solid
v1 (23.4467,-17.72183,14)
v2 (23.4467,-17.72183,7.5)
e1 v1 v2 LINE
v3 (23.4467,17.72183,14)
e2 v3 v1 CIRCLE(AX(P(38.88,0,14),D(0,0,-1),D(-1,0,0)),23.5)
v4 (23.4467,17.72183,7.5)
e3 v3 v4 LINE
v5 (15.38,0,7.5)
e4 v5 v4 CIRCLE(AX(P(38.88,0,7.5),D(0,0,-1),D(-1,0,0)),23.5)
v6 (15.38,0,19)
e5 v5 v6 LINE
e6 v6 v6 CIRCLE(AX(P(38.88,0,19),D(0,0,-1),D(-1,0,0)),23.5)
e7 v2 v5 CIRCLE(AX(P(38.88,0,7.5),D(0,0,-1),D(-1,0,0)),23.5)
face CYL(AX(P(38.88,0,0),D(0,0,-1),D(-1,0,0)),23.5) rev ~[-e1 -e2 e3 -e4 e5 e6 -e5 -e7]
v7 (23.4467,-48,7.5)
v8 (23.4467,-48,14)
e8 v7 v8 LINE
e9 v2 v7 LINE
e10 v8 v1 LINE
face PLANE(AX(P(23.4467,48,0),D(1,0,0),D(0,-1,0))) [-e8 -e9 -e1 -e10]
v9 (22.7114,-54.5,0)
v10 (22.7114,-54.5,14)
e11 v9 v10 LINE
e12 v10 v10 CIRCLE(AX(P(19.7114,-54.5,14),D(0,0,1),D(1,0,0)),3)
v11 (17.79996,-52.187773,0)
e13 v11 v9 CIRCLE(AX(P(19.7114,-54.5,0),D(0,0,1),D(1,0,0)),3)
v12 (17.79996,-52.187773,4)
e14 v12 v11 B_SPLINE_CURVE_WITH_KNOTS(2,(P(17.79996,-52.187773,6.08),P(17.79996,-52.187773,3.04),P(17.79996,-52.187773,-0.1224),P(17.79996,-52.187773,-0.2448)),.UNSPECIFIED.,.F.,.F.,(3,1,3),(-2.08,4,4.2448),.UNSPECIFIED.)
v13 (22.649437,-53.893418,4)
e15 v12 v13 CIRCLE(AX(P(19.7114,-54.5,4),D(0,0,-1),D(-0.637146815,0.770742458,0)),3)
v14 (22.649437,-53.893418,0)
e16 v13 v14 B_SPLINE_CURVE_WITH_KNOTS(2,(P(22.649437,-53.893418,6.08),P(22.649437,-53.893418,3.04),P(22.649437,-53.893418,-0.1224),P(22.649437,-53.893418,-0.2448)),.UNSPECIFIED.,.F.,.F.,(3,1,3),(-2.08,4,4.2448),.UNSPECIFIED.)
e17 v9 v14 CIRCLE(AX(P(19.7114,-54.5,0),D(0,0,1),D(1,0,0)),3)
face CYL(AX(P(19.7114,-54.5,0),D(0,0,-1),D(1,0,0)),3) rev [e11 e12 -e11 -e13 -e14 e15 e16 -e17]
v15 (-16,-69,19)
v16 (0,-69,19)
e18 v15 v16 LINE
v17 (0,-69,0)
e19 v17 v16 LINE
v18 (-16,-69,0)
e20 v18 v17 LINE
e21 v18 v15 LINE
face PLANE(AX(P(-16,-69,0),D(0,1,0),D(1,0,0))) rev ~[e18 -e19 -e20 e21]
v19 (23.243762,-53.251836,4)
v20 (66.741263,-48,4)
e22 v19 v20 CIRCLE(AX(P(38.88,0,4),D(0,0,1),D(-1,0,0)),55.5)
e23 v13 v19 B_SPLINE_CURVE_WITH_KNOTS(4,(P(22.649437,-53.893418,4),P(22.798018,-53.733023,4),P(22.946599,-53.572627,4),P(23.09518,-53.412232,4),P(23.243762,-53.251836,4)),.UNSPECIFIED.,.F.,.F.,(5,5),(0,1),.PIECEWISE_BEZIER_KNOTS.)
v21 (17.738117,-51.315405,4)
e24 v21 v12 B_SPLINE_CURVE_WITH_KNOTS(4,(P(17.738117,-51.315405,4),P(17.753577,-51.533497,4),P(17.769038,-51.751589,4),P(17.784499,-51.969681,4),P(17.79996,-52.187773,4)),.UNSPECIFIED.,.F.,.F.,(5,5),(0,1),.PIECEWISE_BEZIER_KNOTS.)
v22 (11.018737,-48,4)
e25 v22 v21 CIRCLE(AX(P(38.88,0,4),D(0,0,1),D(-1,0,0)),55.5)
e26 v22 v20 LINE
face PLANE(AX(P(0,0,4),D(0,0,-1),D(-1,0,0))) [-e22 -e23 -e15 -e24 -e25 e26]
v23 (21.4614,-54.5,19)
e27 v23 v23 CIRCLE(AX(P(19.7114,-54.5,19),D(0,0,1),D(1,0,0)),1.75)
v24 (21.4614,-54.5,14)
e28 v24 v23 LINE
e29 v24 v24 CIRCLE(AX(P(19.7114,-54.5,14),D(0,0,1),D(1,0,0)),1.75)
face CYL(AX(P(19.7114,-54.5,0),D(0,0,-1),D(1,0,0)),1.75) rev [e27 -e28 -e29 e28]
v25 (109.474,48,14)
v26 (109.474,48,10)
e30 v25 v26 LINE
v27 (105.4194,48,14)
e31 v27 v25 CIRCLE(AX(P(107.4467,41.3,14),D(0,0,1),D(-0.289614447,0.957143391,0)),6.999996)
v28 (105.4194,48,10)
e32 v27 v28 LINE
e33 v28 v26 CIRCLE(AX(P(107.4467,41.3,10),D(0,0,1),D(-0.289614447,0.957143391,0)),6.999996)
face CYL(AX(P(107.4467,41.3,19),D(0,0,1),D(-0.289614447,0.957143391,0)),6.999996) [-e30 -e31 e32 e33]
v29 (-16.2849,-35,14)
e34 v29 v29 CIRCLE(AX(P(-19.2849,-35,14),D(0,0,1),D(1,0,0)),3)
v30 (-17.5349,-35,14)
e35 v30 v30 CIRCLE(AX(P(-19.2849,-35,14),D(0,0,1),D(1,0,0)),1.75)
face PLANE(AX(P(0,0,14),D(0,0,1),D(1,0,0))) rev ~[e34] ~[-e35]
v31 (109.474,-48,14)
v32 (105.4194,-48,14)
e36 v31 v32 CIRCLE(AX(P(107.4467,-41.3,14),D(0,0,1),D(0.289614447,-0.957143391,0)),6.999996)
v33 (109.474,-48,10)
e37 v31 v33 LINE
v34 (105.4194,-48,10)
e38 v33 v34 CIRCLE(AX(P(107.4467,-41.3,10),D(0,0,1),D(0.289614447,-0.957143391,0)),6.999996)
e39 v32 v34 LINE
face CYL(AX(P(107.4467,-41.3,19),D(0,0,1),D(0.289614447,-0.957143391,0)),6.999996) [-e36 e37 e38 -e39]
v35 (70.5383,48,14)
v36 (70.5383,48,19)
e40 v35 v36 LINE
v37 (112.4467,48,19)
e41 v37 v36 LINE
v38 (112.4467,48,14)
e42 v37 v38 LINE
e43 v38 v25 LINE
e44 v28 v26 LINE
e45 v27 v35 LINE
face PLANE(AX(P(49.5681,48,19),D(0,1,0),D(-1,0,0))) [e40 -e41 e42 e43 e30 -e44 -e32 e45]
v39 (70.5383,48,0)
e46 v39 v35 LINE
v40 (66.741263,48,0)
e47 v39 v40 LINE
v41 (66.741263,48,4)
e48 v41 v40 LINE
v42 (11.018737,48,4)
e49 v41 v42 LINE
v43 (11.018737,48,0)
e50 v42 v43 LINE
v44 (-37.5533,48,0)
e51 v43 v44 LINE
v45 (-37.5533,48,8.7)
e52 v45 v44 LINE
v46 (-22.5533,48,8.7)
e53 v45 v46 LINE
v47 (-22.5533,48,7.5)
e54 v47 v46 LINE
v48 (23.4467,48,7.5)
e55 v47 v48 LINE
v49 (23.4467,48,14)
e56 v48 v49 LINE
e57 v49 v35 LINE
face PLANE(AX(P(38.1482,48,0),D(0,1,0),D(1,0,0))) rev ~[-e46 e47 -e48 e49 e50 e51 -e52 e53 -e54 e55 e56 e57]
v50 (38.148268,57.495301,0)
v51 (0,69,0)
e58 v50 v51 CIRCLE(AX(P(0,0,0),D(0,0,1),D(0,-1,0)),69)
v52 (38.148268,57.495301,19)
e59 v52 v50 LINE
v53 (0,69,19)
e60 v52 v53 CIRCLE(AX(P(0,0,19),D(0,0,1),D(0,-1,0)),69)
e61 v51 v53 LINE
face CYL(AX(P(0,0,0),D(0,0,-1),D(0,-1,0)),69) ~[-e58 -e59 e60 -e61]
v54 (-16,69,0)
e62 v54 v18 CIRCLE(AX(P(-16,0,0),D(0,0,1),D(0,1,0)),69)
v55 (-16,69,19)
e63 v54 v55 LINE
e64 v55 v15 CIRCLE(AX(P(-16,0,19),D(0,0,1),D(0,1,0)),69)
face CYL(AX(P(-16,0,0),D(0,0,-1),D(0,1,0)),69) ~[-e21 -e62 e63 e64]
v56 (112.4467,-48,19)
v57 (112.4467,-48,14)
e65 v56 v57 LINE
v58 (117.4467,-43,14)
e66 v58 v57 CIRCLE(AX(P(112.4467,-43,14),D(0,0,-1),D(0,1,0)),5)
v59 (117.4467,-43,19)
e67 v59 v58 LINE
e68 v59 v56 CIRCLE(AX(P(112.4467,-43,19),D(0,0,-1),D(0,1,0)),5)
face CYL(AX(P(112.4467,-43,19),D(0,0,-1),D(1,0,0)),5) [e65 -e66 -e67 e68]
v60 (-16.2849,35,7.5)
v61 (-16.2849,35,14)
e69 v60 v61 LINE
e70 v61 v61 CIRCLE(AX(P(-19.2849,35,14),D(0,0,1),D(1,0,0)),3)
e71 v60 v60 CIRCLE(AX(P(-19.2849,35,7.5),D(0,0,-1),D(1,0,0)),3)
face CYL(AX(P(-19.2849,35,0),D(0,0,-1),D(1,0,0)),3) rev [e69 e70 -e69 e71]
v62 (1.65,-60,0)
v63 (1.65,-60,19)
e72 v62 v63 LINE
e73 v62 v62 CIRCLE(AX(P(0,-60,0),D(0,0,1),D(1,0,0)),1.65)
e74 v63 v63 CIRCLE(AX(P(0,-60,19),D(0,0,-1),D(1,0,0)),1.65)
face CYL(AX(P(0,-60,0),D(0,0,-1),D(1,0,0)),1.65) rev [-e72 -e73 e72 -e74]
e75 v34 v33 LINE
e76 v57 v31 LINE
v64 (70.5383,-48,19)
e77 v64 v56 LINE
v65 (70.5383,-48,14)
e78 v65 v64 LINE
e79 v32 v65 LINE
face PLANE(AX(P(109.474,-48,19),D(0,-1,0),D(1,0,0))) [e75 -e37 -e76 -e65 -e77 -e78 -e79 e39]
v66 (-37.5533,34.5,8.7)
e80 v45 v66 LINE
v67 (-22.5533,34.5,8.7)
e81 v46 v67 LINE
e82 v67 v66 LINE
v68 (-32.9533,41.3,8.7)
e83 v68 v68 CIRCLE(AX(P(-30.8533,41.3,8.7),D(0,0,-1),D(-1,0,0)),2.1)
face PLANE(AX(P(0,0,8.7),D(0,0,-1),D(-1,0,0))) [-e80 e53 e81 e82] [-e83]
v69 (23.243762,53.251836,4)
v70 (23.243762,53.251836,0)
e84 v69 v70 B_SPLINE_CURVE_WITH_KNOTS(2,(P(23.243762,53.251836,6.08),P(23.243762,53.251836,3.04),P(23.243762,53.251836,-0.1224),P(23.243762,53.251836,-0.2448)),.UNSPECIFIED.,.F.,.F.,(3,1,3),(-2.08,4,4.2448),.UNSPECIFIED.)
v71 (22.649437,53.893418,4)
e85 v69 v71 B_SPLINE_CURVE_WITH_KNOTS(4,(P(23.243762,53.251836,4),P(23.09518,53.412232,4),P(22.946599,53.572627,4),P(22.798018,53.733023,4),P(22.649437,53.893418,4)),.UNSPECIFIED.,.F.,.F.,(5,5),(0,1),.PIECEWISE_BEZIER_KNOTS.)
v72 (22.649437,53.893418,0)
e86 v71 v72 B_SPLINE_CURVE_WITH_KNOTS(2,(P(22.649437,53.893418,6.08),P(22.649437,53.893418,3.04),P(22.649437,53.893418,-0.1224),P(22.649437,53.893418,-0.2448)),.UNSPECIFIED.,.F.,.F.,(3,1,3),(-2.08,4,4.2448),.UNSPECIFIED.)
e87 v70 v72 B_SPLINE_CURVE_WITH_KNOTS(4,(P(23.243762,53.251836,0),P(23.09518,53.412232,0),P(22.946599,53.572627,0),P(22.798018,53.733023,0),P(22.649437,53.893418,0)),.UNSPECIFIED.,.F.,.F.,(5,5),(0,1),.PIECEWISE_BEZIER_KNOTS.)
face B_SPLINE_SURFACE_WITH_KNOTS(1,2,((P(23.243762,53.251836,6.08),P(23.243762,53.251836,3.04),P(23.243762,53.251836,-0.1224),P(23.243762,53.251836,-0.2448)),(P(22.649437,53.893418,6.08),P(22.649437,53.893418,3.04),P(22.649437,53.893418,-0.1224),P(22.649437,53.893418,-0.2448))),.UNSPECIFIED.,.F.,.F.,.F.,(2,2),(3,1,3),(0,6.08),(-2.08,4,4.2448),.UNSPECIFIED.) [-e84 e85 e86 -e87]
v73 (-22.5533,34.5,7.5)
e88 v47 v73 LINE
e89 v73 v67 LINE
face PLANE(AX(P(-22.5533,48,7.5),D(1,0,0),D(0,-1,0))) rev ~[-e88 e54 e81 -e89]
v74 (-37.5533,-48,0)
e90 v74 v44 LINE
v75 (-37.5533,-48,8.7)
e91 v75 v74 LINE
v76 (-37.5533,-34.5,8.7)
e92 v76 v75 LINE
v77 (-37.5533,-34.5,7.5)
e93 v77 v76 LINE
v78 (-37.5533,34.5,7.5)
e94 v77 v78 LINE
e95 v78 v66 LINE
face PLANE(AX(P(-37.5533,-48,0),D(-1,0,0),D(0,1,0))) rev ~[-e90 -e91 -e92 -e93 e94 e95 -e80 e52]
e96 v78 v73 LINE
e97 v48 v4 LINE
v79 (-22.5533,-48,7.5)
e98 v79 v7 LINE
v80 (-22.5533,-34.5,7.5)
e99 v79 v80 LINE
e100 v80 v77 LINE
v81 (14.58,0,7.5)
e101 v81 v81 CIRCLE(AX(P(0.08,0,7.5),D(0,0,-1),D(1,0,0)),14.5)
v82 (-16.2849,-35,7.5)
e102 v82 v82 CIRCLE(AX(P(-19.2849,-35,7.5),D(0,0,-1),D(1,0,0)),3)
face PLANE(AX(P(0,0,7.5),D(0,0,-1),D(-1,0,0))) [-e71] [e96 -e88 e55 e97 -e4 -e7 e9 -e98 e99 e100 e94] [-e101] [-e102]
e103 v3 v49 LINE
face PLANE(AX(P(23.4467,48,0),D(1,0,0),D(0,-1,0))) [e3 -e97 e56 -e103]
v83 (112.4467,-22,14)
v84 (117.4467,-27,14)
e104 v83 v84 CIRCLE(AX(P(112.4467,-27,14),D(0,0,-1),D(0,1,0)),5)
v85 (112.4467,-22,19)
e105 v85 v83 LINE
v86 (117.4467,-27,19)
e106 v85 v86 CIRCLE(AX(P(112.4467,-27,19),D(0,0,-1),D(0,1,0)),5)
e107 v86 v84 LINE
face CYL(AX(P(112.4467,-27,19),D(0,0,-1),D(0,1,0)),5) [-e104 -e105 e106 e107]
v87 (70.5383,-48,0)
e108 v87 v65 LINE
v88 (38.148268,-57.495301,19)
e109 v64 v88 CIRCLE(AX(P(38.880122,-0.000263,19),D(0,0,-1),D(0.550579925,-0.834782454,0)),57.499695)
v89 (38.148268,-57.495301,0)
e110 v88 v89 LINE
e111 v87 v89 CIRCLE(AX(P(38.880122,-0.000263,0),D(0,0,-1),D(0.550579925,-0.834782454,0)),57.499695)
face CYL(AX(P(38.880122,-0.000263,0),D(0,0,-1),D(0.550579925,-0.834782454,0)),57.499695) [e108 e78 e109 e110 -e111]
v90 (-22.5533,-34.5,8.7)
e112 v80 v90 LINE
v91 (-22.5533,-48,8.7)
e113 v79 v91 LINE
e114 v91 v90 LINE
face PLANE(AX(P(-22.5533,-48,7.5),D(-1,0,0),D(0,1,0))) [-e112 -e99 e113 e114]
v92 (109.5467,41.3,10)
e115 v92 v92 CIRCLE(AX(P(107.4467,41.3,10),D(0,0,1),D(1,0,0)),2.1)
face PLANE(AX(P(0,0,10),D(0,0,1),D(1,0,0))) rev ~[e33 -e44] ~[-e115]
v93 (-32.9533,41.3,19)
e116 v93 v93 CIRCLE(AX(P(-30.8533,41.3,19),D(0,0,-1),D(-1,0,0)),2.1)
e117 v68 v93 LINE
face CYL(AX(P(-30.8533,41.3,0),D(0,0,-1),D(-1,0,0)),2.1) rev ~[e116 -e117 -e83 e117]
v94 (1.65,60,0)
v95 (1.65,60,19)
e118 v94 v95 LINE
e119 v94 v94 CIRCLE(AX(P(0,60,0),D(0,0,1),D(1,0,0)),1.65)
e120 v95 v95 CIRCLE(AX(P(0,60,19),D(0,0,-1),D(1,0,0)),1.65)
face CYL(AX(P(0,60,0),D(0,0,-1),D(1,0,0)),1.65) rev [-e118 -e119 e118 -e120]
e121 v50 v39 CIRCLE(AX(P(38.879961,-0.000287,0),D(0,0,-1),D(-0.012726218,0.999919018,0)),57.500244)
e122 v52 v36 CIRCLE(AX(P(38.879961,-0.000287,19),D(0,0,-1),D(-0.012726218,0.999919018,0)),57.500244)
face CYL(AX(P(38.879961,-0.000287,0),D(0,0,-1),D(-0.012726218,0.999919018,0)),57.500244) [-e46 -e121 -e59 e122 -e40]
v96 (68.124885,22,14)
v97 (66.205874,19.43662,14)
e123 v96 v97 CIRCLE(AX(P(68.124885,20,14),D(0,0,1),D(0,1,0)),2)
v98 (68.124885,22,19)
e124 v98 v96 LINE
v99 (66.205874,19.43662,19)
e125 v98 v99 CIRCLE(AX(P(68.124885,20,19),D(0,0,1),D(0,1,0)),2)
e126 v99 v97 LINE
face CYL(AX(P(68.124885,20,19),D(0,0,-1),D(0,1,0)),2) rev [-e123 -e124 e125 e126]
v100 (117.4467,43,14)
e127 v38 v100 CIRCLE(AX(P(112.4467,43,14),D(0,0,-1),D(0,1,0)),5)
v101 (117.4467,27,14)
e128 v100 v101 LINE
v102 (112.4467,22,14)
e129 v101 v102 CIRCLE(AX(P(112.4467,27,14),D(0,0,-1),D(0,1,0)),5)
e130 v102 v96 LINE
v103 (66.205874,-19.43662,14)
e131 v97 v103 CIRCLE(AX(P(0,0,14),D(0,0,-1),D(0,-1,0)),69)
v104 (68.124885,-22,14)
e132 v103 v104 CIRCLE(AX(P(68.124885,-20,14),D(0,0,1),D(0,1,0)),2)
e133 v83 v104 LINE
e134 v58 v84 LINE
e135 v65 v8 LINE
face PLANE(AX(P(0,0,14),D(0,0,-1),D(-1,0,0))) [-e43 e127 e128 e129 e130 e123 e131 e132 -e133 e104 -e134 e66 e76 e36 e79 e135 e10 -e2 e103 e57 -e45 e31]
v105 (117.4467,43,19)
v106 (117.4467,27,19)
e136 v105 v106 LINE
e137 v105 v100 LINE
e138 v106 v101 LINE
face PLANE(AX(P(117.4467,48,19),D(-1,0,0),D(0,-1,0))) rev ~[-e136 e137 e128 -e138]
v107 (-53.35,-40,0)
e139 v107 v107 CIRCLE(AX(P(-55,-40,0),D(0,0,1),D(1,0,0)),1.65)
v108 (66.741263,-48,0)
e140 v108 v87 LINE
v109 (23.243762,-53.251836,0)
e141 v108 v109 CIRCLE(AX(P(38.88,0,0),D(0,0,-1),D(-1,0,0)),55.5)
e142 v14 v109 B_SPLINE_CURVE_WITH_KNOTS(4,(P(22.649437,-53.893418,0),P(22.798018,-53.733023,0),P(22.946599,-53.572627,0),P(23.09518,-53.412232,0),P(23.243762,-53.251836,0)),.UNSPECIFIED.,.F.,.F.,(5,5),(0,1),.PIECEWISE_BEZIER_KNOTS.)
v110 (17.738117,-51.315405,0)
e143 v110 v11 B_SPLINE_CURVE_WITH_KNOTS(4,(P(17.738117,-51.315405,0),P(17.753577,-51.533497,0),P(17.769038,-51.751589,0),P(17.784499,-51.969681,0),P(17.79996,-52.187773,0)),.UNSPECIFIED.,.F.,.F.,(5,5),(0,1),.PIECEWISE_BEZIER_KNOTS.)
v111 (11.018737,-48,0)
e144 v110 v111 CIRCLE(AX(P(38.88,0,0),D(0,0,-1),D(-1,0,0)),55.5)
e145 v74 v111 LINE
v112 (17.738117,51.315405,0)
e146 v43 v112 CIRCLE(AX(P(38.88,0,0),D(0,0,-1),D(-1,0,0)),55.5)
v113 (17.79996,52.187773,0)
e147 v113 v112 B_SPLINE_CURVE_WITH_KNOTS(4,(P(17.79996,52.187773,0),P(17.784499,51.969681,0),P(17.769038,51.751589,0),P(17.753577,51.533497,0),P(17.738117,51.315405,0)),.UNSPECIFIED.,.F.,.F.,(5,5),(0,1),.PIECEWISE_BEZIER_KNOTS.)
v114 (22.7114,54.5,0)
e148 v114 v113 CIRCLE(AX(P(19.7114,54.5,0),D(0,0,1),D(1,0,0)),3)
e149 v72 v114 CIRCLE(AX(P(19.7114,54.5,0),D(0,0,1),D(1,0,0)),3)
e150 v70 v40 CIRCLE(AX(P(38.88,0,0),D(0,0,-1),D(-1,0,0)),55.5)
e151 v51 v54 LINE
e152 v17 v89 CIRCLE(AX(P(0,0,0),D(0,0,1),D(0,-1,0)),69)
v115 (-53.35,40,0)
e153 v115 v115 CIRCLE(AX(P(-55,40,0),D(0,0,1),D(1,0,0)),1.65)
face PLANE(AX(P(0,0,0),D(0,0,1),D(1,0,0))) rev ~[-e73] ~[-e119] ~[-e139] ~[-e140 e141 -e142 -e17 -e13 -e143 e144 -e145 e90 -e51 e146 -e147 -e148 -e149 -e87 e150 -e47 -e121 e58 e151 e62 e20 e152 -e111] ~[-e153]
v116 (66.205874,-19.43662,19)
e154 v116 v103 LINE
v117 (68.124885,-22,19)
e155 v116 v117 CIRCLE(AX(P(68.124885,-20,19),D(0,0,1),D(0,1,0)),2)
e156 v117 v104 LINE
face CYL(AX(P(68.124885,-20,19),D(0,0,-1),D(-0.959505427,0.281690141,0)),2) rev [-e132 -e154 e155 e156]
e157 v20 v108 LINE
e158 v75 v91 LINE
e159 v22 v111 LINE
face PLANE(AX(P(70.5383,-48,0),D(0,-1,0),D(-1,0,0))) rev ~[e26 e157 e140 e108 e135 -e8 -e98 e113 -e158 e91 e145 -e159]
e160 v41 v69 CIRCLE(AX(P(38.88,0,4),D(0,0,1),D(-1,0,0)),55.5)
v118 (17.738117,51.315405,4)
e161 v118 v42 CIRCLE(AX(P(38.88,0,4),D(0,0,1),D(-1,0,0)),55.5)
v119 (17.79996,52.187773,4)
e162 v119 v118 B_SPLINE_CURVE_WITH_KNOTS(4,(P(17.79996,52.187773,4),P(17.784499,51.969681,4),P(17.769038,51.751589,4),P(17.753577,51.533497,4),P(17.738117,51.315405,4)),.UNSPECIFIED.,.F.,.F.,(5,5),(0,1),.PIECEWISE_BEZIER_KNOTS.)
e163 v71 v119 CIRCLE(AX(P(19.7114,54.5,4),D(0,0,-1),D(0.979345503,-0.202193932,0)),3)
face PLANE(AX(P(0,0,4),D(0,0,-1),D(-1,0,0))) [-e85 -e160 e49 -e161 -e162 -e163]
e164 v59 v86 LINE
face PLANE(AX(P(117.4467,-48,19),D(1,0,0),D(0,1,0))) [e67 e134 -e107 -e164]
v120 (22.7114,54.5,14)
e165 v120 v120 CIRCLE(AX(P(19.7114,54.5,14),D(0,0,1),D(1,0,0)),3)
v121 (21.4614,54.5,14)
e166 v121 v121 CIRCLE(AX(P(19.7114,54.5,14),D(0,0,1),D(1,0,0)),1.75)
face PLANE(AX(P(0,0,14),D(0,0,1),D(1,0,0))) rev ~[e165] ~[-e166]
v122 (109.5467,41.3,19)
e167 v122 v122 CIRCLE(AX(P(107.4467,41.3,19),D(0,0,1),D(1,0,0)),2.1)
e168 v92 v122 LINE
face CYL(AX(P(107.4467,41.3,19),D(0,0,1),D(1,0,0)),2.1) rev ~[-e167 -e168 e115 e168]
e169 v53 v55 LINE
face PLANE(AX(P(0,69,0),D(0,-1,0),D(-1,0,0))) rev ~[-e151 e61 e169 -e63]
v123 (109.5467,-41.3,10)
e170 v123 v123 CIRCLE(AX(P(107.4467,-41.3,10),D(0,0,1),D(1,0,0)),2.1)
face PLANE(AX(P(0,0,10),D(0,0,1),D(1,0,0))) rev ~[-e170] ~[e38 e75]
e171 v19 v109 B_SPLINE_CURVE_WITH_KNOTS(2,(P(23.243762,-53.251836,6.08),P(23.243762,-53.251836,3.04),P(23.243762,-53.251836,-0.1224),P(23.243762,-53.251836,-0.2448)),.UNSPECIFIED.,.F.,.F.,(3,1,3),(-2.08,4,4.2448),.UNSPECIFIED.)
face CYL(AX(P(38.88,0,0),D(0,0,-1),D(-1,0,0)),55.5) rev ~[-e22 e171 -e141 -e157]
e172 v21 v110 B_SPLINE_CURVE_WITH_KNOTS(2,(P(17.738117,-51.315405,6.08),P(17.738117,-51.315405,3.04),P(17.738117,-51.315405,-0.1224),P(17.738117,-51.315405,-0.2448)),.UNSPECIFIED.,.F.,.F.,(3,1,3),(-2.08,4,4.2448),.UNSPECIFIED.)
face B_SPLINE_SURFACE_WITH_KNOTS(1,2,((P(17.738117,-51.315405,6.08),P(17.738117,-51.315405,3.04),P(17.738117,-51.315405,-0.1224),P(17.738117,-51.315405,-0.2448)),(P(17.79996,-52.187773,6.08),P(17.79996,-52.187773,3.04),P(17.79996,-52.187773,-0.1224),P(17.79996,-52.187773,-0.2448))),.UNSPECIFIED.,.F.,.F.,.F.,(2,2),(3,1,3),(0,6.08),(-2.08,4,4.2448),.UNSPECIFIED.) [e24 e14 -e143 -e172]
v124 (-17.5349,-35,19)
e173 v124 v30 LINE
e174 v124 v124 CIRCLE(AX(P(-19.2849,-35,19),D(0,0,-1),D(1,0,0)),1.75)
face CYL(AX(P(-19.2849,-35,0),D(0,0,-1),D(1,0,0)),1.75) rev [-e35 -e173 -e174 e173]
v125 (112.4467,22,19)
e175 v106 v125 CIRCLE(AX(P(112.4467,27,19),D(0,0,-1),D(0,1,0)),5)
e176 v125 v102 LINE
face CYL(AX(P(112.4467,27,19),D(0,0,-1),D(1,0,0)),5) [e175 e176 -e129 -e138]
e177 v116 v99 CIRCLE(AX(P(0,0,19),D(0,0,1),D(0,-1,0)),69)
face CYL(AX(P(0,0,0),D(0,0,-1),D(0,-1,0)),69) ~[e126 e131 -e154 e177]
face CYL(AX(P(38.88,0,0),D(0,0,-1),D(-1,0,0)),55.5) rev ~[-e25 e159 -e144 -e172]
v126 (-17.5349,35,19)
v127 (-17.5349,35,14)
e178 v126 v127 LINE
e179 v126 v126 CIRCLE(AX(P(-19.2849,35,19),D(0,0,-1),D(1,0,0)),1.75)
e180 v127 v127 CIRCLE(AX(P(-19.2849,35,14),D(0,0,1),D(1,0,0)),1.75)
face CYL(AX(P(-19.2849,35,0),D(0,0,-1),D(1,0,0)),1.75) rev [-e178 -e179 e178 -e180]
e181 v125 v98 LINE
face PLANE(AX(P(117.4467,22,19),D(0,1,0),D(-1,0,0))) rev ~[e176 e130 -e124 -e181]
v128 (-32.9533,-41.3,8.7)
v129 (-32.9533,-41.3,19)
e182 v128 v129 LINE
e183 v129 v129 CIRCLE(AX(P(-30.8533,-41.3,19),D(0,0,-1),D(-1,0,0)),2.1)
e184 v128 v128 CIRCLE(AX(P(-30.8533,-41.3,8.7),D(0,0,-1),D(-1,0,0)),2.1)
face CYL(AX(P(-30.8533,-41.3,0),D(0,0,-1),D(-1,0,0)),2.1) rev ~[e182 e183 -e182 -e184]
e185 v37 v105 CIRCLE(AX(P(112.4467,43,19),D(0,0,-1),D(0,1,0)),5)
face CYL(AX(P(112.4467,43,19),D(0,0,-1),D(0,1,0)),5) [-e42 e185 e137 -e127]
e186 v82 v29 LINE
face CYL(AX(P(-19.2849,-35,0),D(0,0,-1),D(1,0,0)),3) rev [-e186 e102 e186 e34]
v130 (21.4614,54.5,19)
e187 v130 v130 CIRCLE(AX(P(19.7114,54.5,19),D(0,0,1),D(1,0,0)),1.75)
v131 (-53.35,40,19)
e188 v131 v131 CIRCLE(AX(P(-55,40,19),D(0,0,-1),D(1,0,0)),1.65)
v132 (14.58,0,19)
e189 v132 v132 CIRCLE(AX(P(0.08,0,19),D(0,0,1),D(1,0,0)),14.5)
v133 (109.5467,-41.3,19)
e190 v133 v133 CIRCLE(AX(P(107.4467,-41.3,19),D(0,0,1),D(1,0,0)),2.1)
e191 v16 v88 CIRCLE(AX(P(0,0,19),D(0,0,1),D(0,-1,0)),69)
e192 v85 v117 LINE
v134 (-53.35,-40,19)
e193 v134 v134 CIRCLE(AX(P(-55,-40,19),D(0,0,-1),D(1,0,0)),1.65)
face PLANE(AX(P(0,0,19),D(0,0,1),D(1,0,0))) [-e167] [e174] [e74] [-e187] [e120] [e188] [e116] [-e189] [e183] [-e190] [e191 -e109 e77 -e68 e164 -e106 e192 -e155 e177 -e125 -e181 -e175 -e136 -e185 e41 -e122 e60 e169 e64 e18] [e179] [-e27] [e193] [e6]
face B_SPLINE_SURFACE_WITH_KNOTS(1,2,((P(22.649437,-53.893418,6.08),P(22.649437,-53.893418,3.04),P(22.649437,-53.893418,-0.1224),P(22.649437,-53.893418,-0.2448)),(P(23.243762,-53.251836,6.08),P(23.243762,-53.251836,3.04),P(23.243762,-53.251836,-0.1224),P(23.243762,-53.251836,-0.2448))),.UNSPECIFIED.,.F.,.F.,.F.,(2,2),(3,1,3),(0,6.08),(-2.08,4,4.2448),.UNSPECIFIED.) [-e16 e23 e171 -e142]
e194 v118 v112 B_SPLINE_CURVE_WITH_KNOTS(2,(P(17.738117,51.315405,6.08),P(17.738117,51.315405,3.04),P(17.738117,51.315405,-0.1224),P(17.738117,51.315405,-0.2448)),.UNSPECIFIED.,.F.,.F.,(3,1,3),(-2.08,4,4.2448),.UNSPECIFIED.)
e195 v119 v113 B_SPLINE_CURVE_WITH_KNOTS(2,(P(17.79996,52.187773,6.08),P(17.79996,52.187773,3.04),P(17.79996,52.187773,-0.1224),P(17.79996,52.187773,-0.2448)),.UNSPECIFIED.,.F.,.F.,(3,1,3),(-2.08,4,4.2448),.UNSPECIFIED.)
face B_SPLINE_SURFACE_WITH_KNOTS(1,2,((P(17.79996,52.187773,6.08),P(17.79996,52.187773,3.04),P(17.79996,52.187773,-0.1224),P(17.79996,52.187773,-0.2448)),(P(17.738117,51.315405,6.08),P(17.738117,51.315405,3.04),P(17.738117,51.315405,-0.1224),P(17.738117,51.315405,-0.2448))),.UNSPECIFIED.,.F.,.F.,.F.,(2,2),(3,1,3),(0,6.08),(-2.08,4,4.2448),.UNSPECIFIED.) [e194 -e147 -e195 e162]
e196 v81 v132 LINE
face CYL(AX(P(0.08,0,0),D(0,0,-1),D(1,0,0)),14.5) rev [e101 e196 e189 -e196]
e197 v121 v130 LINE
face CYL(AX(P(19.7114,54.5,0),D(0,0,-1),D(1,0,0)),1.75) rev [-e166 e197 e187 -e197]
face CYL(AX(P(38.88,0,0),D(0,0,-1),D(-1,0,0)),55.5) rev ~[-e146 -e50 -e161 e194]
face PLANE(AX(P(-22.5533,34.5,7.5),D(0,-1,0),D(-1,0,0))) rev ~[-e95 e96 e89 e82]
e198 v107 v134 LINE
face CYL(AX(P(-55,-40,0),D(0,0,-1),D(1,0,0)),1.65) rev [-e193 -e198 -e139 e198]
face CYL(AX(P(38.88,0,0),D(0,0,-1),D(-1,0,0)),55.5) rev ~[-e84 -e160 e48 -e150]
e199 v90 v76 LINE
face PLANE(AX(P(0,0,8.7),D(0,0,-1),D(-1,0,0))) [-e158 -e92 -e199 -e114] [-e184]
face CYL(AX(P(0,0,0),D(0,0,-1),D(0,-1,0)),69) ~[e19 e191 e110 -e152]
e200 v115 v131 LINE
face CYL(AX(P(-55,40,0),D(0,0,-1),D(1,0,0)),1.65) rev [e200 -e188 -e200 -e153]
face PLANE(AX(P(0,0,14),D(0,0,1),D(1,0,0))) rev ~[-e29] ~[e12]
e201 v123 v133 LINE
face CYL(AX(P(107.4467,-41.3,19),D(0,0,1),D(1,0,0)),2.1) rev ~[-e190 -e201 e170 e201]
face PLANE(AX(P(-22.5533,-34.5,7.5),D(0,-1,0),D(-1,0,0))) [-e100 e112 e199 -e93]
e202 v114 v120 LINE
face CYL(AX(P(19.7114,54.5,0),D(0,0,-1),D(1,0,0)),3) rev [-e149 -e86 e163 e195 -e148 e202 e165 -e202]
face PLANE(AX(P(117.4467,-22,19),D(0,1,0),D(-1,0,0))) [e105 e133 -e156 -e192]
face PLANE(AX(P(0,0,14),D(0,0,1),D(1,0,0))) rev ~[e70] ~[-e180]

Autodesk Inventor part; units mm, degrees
ref_plane "YZ Plane" through (0, 0, 0) normal (1, 0, 0) x (0, 1, 0)
ref_plane "XZ Plane" through (0, 0, 0) normal (0, 1, 0) x (-1, 0, 0)
ref_plane "XY Plane" through (0, 0, 0) normal (0, 0, 1) x (1, 0, 0)
sketch "Sketch1" plane through (0, 0, 0) normal (0, 0, 1) x (1, 0, 0)
  line L0 (-19.2849, 35) -> (-19.2849, -35) construction
  line L1 (19.7114, 54.5) -> (19.7114, -54.5) construction
  line L2 (-19.2849, 35) -> (19.7114, 54.5) construction
  line L3 (-19.2849, -35) -> (19.7114, -54.5) construction
  circle A0 centre (0.08, 0) radius 14.5
  line L4 (-19.2849, 35) -> (0.08, 0) construction
  line L5 (0.08, 0) -> (-19.2849, -35) construction
  circle A1 centre (19.7114, 54.5) radius 1.75
  circle A2 centre (-19.2849, 35) radius 1.75
  circle A3 centre (-19.2849, -35) radius 1.75
  circle A4 centre (19.7114, -54.5) radius 1.75
  line L6 (-16, -69) -> (0, -69)
  line L7 (0, 69) -> (-16, 69)
  arc A5 (-16, 69) -> (-16, -69) centre (-16, 0) ccw
  arc A6 (0, -69) -> (0, 69) centre (0, 0) ccw
  line L8 (-85, 0) -> (69, 0) construction
  circle A7 centre (-19.2849, 35) radius 3
  circle A8 centre (-19.2849, -35) radius 3
  circle A9 centre (19.7114, 54.5) radius 3
  circle A10 centre (19.7114, -54.5) radius 3
  line L9 (0, -60) -> (0, 60) construction
  line L10 (-55, 40) -> (-55, -40) construction
  circle A11 centre (-55, 40) radius 1.65
  circle A12 centre (-55, -40) radius 1.65
  circle A13 centre (0, -60) radius 1.65
  circle A14 centre (0, 60) radius 1.65
  point P0 (-19.2849, 0)
  point P1 (19.7114, 0)
  point P2 (-55, 0)
  dimension "d0" = 70
  dimension "d1" = 109
  dimension "d2" = 43.6
  dimension "d3" = 29
  dimension "d4" = 40
  dimension "d5" = 3.5
  dimension "d7" = 138
  dimension "d8" = 154
  dimension "d33" = 6
  dimension "d55" = 85.08
  dimension "d110" = 120
  dimension "d111" = 30
  dimension "d112" = 80
  dimension "d113" = 3.3
extrude "Extrusion1" add sketch "Sketch1" along normal blind 19 contours A5 L7 A6 L6 | A7 | A8 | A9 | A10 | A11 | A12 | A13 | A14
sketch "Sketch2" plane through (0, 0, 19) normal (0, 0, 1) x (1, 0, 0)
  circle A0 centre (-52.47, 0) radius 18.5329 construction
  circle A1 centre (-71.0029, 0) radius 2
  circle A2 centre (-43.2035, 16.05) radius 2
  circle A3 centre (-43.2035, -16.05) radius 2
  circle A4 centre (0.08, 0) radius 14.5 projected
  circle A5 centre (19.7114, -54.5) radius 1.75 projected
  circle A6 centre (-19.2849, -35) radius 1.75 projected
  circle A7 centre (-19.2849, 35) radius 1.75 projected
  circle A8 centre (19.7114, 54.5) radius 1.75 projected
  line L0 (-16, -69) -> (0, -69) projected
  arc A9 (0, -69) -> (0, 69) centre (0, 0) ccw projected
  line L1 (0, 69) -> (-16, 69) projected
  arc A10 (-16, 69) -> (-16, -69) centre (-16, 0) ccw projected
  arc A11 (-16, 69) -> (-16, -69) centre (-16, 0) ccw construction
  line L2 (-85, 0) -> (69, 0) construction
  circle A12 centre (-43.2035, -16.05) radius 5
  circle A13 centre (-43.2035, 16.05) radius 5
  circle A14 centre (-71.0029, 0) radius 5
  dimension "d11" = 120
  dimension "d12" = 120
  dimension "d13" = 32.1
  dimension "d14" = 52.55
  dimension "d40" = 4
  dimension "d49" = 10
sketch "Sketch3" plane through (0, 0, 0) normal (0, 0, -1) x (-1, 0, 0)
  circle A0 centre (30.8533, 41.3) radius 2.1
  circle A1 centre (-0.08, 0) radius 14.5 projected
  circle A2 centre (30.8533, -41.3) radius 2.1
  line L0 (30.8533, 41.3) -> (-0.08, 0) construction
  line L1 (-0.08, 0) -> (30.8533, -41.3) construction
  circle A3 centre (-0.08, 0) radius 14.5 construction
  circle A4 centre (-19.7114, -54.5) radius 1.75 construction
  circle A5 centre (19.2849, -35) radius 1.75 construction
  circle A6 centre (19.2849, 35) radius 1.75 construction
  circle A7 centre (-19.7114, 54.5) radius 1.75 construction
  line L2 (16, -69) -> (0, -69) construction
  arc A8 (16, -69) -> (16, 69) centre (16, 0) ccw construction
  line L3 (0, 69) -> (16, 69) construction
  arc A9 (0, 69) -> (0, -69) centre (0, 0) ccw construction
  arc A10 (16, -69) -> (16, 69) centre (16, 0) ccw construction
  line L4 (85, 0) -> (-69, 0) construction
  arc A11 (0, 69) -> (0, -69) centre (0, 0) ccw construction
  line L5 (30.8533, 41.3) -> (30.8533, -41.3)
  line L6 (37.5533, 48) -> (-142.6467, 48)
  line L7 (-142.6467, 48) -> (-142.6467, -48)
  line L8 (-142.6467, -48) -> (37.5533, -48)
  line L9 (37.5533, -48) -> (37.5533, 48)
  line L10 (30.8533, 41.3) -> (37.5533, 41.3) construction
  line L11 (30.8533, 41.3) -> (30.8533, 48) construction
  line L12 (30.8533, -41.3) -> (37.5533, -41.3) construction
  line L13 (30.8533, -41.3) -> (30.8533, -48) construction
  circle A12 centre (-107.4467, 41.3) radius 2.1
  circle A13 centre (-107.4467, -41.3) radius 2.1
  line L14 (30.8533, 41.3) -> (-107.4467, 41.3) construction
  line L15 (30.8533, -41.3) -> (-107.4467, -41.3) construction
  line L16 (-23.4467, 48) -> (-23.4467, -48)
  circle A14 centre (-38.88, 0) radius 23.5
  circle A15 centre (-38.88, 0) radius 55.5
  arc A16 (-38.1482, 57.4953) -> (-70.5383, 48) centre (-38.88, 0) ccw
  arc A17 (-70.5383, -48) -> (-38.1482, -57.4953) centre (-38.88, 0) ccw
  line L17 (-38.1482, 57.4953) -> (-38.1482, 48)
  line L18 (-70.5383, 48) -> (-38.1482, 48)
  line L19 (-38.1482, -57.4953) -> (-38.1482, -48)
  line L20 (-70.5383, -48) -> (-38.1482, -48)
  dimension "d15" = 51.6
  dimension "d18" = 82.6
  dimension "d20" = 180.2
  dimension "d22" = 96
  dimension "d29" = 138.3
  dimension "d59" = 4.2
  dimension "d61" = 61
  dimension "d68" = 47
  dimension "d69" = 38.8
  dimension "d70" = 69
  dimension "d118" = 111
  dimension "d141" = 2
extrude "Extrusion14" cut sketch "Sketch3" against normal blind 14 contours L16 A14 L8 A15 L6 | L16 A14 | A15 L8 L7 L6 picked at (-49.8352, 39.5964) picked at (-36.3678, -0.9407)
extrude "Extrusion15" cut sketch "Sketch3" against normal blind 7.5 contours L6 A15 L8 L16 A14 | L6 L9 L8 A15 | A14 L16 picked at (-10.5973, 24.5754) picked at (-22.3115, -4.6826)
extrude "Extrusion16" cut sketch "Sketch3" against normal through all contours A0 | A2
sketch "Sketch8" plane through (0, 0, 19) normal (0, 0, 1) x (1, 0, 0)
  line L0 (-37.5533, 48) -> (-37.5533, -48) projected
  circle A0 centre (107.4467, -41.3) radius 2.1 projected
  circle A1 centre (107.4467, 41.3) radius 2.1 projected
  line L1 (-37.5533, -48) -> (117.4467, -48)
  line L2 (117.4467, -48) -> (117.4467, -22)
  line L3 (117.4467, -22) -> (-37.5533, -22)
  line L4 (-37.5533, -22) -> (-37.5533, -48)
  line L5 (49.5681, 48) -> (-37.5533, 48) projected
  line L6 (-37.5533, 48) -> (117.4467, 48)
  line L7 (117.4467, 48) -> (117.4467, 22)
  line L8 (117.4467, 22) -> (-37.5533, 22)
  line L9 (-37.5533, 22) -> (-37.5533, 48)
  circle A2 centre (107.4467, -41.3) radius 2.1
  circle A3 centre (107.4467, 41.3) radius 2.1
  arc A4 (109.474, -48) -> (105.4194, -48) centre (107.4467, -41.3) ccw
  arc A5 (105.4194, 48) -> (109.474, 48) centre (107.4467, 41.3) ccw
  point P0 (122.0315, -50.7282)
  point P1 (122.0315, 31.8718)
  dimension "d79" = 26
  dimension "d80" = 155
  dimension "d81" = 14
extrude "Extrusion18" add sketch "Sketch8" against normal up to surface (5 mm away)
extrude "Extrusion19" add sketch "Sketch8" against normal blind 9 contours L6 A5 | A4 L1
extrude "Extrusion17" cut sketch "Sketch3" against normal through all contours A14 L16 | L16 A14
extrude "Extrusion20" cut sketch "Sketch3" against normal through all contours A0 | A2
extrude "Extrusion21" cut sketch "Sketch1" along normal through all contours A2 | A3
extrude "Extrusion22" cut sketch "Sketch1" along normal blind 14 contours A7 | A8 | A9 | A10
extrude "Extrusion23" cut sketch "Sketch1" along normal through all contours A11 | A12 | A13 | A14
fillet "Fillet1" radius 5 1 edges at (117.4467, 48, 16.5)
fillet "Fillet2" radius 5 3 edges at (117.4467, 22, 16.5) (117.4467, -22, 16.5) (117.4467, -48, 16.5)
thread "Thread1" size "M5x0.8" class "6H" standard "ANSI Metric M Profile" full length
thread "Thread2" size "M5x0.8" class "6H" standard "ANSI Metric M Profile" full length
thread "Thread3" size "M5x0.8" class "6H" standard "ANSI Metric M Profile" full length
thread "Thread4" size "M5x0.8" class "6H" standard "ANSI Metric M Profile" full length
thread "Thread6" size "M4x0.7" class "6H" standard "ANSI Metric M Profile" full length
thread "Thread7" size "M4x0.7" class "6H" standard "ANSI Metric M Profile" full length
thread "Thread8" size "M4x0.7" class "6H" standard "ANSI Metric M Profile" full length
thread "Thread9" size "M4x0.7" class "6H" standard "ANSI Metric M Profile" full length
fillet "Fillet3" radius 2 2 edges at (65.3988, 22, 16.5) (65.3988, -22, 16.5)
extrude "Extrusion27" add sketch "Sketch3" against normal up to surface (19 mm away) contours L6 A15 L17 | L6 A16 L17 A15 | A15 L19 A17 L8 | L8 L19 A15 picked at (-54.2009, 49.4023) picked at (-54.2009, -49.4023)
extrude "Extrusion26" cut sketch "Sketch3" against normal blind 4 contours L16 A14 L8 A15 L6 | L6 L17 A15 | L6 A15 L8 L16 A14 | L6 A15 L17 | L8 L19 A15 | A15 L19 L8
chamfer "Chamfer2" distance 1 angle 45 4 edges at (22.2868, 52.9615, 2) (18.6661, 51.688, 2) (18.6661, -51.688, 2) (22.2868, -52.9615, 2)
sketch "Sketch10" plane through (0, 0, 7.5) normal (0, 0, -1) x (-1, 0, 0)
  line L0 (37.5533, 48) -> (37.5533, -48) projected
  line L1 (37.5533, 48) -> (22.5533, 48)
  line L2 (22.5533, 48) -> (22.5533, 34.5)
  line L3 (22.5533, 34.5) -> (37.5533, 34.5)
  line L4 (37.5533, 34.5) -> (37.5533, 48)
  line L5 (37.5533, -48) -> (22.5533, -48)
  line L6 (22.5533, -48) -> (22.5533, -34.5)
  line L7 (22.5533, -34.5) -> (37.5533, -34.5)
  line L8 (37.5533, -34.5) -> (37.5533, -48)
  point P0 (0, 0)
  dimension "d149" = 13.5
  dimension "d150" = 15
extrude "Extrusion29" cut sketch "Sketch10" against normal blind 1.2
properties part number "AZ-FLDIC-FWup top adapter"
